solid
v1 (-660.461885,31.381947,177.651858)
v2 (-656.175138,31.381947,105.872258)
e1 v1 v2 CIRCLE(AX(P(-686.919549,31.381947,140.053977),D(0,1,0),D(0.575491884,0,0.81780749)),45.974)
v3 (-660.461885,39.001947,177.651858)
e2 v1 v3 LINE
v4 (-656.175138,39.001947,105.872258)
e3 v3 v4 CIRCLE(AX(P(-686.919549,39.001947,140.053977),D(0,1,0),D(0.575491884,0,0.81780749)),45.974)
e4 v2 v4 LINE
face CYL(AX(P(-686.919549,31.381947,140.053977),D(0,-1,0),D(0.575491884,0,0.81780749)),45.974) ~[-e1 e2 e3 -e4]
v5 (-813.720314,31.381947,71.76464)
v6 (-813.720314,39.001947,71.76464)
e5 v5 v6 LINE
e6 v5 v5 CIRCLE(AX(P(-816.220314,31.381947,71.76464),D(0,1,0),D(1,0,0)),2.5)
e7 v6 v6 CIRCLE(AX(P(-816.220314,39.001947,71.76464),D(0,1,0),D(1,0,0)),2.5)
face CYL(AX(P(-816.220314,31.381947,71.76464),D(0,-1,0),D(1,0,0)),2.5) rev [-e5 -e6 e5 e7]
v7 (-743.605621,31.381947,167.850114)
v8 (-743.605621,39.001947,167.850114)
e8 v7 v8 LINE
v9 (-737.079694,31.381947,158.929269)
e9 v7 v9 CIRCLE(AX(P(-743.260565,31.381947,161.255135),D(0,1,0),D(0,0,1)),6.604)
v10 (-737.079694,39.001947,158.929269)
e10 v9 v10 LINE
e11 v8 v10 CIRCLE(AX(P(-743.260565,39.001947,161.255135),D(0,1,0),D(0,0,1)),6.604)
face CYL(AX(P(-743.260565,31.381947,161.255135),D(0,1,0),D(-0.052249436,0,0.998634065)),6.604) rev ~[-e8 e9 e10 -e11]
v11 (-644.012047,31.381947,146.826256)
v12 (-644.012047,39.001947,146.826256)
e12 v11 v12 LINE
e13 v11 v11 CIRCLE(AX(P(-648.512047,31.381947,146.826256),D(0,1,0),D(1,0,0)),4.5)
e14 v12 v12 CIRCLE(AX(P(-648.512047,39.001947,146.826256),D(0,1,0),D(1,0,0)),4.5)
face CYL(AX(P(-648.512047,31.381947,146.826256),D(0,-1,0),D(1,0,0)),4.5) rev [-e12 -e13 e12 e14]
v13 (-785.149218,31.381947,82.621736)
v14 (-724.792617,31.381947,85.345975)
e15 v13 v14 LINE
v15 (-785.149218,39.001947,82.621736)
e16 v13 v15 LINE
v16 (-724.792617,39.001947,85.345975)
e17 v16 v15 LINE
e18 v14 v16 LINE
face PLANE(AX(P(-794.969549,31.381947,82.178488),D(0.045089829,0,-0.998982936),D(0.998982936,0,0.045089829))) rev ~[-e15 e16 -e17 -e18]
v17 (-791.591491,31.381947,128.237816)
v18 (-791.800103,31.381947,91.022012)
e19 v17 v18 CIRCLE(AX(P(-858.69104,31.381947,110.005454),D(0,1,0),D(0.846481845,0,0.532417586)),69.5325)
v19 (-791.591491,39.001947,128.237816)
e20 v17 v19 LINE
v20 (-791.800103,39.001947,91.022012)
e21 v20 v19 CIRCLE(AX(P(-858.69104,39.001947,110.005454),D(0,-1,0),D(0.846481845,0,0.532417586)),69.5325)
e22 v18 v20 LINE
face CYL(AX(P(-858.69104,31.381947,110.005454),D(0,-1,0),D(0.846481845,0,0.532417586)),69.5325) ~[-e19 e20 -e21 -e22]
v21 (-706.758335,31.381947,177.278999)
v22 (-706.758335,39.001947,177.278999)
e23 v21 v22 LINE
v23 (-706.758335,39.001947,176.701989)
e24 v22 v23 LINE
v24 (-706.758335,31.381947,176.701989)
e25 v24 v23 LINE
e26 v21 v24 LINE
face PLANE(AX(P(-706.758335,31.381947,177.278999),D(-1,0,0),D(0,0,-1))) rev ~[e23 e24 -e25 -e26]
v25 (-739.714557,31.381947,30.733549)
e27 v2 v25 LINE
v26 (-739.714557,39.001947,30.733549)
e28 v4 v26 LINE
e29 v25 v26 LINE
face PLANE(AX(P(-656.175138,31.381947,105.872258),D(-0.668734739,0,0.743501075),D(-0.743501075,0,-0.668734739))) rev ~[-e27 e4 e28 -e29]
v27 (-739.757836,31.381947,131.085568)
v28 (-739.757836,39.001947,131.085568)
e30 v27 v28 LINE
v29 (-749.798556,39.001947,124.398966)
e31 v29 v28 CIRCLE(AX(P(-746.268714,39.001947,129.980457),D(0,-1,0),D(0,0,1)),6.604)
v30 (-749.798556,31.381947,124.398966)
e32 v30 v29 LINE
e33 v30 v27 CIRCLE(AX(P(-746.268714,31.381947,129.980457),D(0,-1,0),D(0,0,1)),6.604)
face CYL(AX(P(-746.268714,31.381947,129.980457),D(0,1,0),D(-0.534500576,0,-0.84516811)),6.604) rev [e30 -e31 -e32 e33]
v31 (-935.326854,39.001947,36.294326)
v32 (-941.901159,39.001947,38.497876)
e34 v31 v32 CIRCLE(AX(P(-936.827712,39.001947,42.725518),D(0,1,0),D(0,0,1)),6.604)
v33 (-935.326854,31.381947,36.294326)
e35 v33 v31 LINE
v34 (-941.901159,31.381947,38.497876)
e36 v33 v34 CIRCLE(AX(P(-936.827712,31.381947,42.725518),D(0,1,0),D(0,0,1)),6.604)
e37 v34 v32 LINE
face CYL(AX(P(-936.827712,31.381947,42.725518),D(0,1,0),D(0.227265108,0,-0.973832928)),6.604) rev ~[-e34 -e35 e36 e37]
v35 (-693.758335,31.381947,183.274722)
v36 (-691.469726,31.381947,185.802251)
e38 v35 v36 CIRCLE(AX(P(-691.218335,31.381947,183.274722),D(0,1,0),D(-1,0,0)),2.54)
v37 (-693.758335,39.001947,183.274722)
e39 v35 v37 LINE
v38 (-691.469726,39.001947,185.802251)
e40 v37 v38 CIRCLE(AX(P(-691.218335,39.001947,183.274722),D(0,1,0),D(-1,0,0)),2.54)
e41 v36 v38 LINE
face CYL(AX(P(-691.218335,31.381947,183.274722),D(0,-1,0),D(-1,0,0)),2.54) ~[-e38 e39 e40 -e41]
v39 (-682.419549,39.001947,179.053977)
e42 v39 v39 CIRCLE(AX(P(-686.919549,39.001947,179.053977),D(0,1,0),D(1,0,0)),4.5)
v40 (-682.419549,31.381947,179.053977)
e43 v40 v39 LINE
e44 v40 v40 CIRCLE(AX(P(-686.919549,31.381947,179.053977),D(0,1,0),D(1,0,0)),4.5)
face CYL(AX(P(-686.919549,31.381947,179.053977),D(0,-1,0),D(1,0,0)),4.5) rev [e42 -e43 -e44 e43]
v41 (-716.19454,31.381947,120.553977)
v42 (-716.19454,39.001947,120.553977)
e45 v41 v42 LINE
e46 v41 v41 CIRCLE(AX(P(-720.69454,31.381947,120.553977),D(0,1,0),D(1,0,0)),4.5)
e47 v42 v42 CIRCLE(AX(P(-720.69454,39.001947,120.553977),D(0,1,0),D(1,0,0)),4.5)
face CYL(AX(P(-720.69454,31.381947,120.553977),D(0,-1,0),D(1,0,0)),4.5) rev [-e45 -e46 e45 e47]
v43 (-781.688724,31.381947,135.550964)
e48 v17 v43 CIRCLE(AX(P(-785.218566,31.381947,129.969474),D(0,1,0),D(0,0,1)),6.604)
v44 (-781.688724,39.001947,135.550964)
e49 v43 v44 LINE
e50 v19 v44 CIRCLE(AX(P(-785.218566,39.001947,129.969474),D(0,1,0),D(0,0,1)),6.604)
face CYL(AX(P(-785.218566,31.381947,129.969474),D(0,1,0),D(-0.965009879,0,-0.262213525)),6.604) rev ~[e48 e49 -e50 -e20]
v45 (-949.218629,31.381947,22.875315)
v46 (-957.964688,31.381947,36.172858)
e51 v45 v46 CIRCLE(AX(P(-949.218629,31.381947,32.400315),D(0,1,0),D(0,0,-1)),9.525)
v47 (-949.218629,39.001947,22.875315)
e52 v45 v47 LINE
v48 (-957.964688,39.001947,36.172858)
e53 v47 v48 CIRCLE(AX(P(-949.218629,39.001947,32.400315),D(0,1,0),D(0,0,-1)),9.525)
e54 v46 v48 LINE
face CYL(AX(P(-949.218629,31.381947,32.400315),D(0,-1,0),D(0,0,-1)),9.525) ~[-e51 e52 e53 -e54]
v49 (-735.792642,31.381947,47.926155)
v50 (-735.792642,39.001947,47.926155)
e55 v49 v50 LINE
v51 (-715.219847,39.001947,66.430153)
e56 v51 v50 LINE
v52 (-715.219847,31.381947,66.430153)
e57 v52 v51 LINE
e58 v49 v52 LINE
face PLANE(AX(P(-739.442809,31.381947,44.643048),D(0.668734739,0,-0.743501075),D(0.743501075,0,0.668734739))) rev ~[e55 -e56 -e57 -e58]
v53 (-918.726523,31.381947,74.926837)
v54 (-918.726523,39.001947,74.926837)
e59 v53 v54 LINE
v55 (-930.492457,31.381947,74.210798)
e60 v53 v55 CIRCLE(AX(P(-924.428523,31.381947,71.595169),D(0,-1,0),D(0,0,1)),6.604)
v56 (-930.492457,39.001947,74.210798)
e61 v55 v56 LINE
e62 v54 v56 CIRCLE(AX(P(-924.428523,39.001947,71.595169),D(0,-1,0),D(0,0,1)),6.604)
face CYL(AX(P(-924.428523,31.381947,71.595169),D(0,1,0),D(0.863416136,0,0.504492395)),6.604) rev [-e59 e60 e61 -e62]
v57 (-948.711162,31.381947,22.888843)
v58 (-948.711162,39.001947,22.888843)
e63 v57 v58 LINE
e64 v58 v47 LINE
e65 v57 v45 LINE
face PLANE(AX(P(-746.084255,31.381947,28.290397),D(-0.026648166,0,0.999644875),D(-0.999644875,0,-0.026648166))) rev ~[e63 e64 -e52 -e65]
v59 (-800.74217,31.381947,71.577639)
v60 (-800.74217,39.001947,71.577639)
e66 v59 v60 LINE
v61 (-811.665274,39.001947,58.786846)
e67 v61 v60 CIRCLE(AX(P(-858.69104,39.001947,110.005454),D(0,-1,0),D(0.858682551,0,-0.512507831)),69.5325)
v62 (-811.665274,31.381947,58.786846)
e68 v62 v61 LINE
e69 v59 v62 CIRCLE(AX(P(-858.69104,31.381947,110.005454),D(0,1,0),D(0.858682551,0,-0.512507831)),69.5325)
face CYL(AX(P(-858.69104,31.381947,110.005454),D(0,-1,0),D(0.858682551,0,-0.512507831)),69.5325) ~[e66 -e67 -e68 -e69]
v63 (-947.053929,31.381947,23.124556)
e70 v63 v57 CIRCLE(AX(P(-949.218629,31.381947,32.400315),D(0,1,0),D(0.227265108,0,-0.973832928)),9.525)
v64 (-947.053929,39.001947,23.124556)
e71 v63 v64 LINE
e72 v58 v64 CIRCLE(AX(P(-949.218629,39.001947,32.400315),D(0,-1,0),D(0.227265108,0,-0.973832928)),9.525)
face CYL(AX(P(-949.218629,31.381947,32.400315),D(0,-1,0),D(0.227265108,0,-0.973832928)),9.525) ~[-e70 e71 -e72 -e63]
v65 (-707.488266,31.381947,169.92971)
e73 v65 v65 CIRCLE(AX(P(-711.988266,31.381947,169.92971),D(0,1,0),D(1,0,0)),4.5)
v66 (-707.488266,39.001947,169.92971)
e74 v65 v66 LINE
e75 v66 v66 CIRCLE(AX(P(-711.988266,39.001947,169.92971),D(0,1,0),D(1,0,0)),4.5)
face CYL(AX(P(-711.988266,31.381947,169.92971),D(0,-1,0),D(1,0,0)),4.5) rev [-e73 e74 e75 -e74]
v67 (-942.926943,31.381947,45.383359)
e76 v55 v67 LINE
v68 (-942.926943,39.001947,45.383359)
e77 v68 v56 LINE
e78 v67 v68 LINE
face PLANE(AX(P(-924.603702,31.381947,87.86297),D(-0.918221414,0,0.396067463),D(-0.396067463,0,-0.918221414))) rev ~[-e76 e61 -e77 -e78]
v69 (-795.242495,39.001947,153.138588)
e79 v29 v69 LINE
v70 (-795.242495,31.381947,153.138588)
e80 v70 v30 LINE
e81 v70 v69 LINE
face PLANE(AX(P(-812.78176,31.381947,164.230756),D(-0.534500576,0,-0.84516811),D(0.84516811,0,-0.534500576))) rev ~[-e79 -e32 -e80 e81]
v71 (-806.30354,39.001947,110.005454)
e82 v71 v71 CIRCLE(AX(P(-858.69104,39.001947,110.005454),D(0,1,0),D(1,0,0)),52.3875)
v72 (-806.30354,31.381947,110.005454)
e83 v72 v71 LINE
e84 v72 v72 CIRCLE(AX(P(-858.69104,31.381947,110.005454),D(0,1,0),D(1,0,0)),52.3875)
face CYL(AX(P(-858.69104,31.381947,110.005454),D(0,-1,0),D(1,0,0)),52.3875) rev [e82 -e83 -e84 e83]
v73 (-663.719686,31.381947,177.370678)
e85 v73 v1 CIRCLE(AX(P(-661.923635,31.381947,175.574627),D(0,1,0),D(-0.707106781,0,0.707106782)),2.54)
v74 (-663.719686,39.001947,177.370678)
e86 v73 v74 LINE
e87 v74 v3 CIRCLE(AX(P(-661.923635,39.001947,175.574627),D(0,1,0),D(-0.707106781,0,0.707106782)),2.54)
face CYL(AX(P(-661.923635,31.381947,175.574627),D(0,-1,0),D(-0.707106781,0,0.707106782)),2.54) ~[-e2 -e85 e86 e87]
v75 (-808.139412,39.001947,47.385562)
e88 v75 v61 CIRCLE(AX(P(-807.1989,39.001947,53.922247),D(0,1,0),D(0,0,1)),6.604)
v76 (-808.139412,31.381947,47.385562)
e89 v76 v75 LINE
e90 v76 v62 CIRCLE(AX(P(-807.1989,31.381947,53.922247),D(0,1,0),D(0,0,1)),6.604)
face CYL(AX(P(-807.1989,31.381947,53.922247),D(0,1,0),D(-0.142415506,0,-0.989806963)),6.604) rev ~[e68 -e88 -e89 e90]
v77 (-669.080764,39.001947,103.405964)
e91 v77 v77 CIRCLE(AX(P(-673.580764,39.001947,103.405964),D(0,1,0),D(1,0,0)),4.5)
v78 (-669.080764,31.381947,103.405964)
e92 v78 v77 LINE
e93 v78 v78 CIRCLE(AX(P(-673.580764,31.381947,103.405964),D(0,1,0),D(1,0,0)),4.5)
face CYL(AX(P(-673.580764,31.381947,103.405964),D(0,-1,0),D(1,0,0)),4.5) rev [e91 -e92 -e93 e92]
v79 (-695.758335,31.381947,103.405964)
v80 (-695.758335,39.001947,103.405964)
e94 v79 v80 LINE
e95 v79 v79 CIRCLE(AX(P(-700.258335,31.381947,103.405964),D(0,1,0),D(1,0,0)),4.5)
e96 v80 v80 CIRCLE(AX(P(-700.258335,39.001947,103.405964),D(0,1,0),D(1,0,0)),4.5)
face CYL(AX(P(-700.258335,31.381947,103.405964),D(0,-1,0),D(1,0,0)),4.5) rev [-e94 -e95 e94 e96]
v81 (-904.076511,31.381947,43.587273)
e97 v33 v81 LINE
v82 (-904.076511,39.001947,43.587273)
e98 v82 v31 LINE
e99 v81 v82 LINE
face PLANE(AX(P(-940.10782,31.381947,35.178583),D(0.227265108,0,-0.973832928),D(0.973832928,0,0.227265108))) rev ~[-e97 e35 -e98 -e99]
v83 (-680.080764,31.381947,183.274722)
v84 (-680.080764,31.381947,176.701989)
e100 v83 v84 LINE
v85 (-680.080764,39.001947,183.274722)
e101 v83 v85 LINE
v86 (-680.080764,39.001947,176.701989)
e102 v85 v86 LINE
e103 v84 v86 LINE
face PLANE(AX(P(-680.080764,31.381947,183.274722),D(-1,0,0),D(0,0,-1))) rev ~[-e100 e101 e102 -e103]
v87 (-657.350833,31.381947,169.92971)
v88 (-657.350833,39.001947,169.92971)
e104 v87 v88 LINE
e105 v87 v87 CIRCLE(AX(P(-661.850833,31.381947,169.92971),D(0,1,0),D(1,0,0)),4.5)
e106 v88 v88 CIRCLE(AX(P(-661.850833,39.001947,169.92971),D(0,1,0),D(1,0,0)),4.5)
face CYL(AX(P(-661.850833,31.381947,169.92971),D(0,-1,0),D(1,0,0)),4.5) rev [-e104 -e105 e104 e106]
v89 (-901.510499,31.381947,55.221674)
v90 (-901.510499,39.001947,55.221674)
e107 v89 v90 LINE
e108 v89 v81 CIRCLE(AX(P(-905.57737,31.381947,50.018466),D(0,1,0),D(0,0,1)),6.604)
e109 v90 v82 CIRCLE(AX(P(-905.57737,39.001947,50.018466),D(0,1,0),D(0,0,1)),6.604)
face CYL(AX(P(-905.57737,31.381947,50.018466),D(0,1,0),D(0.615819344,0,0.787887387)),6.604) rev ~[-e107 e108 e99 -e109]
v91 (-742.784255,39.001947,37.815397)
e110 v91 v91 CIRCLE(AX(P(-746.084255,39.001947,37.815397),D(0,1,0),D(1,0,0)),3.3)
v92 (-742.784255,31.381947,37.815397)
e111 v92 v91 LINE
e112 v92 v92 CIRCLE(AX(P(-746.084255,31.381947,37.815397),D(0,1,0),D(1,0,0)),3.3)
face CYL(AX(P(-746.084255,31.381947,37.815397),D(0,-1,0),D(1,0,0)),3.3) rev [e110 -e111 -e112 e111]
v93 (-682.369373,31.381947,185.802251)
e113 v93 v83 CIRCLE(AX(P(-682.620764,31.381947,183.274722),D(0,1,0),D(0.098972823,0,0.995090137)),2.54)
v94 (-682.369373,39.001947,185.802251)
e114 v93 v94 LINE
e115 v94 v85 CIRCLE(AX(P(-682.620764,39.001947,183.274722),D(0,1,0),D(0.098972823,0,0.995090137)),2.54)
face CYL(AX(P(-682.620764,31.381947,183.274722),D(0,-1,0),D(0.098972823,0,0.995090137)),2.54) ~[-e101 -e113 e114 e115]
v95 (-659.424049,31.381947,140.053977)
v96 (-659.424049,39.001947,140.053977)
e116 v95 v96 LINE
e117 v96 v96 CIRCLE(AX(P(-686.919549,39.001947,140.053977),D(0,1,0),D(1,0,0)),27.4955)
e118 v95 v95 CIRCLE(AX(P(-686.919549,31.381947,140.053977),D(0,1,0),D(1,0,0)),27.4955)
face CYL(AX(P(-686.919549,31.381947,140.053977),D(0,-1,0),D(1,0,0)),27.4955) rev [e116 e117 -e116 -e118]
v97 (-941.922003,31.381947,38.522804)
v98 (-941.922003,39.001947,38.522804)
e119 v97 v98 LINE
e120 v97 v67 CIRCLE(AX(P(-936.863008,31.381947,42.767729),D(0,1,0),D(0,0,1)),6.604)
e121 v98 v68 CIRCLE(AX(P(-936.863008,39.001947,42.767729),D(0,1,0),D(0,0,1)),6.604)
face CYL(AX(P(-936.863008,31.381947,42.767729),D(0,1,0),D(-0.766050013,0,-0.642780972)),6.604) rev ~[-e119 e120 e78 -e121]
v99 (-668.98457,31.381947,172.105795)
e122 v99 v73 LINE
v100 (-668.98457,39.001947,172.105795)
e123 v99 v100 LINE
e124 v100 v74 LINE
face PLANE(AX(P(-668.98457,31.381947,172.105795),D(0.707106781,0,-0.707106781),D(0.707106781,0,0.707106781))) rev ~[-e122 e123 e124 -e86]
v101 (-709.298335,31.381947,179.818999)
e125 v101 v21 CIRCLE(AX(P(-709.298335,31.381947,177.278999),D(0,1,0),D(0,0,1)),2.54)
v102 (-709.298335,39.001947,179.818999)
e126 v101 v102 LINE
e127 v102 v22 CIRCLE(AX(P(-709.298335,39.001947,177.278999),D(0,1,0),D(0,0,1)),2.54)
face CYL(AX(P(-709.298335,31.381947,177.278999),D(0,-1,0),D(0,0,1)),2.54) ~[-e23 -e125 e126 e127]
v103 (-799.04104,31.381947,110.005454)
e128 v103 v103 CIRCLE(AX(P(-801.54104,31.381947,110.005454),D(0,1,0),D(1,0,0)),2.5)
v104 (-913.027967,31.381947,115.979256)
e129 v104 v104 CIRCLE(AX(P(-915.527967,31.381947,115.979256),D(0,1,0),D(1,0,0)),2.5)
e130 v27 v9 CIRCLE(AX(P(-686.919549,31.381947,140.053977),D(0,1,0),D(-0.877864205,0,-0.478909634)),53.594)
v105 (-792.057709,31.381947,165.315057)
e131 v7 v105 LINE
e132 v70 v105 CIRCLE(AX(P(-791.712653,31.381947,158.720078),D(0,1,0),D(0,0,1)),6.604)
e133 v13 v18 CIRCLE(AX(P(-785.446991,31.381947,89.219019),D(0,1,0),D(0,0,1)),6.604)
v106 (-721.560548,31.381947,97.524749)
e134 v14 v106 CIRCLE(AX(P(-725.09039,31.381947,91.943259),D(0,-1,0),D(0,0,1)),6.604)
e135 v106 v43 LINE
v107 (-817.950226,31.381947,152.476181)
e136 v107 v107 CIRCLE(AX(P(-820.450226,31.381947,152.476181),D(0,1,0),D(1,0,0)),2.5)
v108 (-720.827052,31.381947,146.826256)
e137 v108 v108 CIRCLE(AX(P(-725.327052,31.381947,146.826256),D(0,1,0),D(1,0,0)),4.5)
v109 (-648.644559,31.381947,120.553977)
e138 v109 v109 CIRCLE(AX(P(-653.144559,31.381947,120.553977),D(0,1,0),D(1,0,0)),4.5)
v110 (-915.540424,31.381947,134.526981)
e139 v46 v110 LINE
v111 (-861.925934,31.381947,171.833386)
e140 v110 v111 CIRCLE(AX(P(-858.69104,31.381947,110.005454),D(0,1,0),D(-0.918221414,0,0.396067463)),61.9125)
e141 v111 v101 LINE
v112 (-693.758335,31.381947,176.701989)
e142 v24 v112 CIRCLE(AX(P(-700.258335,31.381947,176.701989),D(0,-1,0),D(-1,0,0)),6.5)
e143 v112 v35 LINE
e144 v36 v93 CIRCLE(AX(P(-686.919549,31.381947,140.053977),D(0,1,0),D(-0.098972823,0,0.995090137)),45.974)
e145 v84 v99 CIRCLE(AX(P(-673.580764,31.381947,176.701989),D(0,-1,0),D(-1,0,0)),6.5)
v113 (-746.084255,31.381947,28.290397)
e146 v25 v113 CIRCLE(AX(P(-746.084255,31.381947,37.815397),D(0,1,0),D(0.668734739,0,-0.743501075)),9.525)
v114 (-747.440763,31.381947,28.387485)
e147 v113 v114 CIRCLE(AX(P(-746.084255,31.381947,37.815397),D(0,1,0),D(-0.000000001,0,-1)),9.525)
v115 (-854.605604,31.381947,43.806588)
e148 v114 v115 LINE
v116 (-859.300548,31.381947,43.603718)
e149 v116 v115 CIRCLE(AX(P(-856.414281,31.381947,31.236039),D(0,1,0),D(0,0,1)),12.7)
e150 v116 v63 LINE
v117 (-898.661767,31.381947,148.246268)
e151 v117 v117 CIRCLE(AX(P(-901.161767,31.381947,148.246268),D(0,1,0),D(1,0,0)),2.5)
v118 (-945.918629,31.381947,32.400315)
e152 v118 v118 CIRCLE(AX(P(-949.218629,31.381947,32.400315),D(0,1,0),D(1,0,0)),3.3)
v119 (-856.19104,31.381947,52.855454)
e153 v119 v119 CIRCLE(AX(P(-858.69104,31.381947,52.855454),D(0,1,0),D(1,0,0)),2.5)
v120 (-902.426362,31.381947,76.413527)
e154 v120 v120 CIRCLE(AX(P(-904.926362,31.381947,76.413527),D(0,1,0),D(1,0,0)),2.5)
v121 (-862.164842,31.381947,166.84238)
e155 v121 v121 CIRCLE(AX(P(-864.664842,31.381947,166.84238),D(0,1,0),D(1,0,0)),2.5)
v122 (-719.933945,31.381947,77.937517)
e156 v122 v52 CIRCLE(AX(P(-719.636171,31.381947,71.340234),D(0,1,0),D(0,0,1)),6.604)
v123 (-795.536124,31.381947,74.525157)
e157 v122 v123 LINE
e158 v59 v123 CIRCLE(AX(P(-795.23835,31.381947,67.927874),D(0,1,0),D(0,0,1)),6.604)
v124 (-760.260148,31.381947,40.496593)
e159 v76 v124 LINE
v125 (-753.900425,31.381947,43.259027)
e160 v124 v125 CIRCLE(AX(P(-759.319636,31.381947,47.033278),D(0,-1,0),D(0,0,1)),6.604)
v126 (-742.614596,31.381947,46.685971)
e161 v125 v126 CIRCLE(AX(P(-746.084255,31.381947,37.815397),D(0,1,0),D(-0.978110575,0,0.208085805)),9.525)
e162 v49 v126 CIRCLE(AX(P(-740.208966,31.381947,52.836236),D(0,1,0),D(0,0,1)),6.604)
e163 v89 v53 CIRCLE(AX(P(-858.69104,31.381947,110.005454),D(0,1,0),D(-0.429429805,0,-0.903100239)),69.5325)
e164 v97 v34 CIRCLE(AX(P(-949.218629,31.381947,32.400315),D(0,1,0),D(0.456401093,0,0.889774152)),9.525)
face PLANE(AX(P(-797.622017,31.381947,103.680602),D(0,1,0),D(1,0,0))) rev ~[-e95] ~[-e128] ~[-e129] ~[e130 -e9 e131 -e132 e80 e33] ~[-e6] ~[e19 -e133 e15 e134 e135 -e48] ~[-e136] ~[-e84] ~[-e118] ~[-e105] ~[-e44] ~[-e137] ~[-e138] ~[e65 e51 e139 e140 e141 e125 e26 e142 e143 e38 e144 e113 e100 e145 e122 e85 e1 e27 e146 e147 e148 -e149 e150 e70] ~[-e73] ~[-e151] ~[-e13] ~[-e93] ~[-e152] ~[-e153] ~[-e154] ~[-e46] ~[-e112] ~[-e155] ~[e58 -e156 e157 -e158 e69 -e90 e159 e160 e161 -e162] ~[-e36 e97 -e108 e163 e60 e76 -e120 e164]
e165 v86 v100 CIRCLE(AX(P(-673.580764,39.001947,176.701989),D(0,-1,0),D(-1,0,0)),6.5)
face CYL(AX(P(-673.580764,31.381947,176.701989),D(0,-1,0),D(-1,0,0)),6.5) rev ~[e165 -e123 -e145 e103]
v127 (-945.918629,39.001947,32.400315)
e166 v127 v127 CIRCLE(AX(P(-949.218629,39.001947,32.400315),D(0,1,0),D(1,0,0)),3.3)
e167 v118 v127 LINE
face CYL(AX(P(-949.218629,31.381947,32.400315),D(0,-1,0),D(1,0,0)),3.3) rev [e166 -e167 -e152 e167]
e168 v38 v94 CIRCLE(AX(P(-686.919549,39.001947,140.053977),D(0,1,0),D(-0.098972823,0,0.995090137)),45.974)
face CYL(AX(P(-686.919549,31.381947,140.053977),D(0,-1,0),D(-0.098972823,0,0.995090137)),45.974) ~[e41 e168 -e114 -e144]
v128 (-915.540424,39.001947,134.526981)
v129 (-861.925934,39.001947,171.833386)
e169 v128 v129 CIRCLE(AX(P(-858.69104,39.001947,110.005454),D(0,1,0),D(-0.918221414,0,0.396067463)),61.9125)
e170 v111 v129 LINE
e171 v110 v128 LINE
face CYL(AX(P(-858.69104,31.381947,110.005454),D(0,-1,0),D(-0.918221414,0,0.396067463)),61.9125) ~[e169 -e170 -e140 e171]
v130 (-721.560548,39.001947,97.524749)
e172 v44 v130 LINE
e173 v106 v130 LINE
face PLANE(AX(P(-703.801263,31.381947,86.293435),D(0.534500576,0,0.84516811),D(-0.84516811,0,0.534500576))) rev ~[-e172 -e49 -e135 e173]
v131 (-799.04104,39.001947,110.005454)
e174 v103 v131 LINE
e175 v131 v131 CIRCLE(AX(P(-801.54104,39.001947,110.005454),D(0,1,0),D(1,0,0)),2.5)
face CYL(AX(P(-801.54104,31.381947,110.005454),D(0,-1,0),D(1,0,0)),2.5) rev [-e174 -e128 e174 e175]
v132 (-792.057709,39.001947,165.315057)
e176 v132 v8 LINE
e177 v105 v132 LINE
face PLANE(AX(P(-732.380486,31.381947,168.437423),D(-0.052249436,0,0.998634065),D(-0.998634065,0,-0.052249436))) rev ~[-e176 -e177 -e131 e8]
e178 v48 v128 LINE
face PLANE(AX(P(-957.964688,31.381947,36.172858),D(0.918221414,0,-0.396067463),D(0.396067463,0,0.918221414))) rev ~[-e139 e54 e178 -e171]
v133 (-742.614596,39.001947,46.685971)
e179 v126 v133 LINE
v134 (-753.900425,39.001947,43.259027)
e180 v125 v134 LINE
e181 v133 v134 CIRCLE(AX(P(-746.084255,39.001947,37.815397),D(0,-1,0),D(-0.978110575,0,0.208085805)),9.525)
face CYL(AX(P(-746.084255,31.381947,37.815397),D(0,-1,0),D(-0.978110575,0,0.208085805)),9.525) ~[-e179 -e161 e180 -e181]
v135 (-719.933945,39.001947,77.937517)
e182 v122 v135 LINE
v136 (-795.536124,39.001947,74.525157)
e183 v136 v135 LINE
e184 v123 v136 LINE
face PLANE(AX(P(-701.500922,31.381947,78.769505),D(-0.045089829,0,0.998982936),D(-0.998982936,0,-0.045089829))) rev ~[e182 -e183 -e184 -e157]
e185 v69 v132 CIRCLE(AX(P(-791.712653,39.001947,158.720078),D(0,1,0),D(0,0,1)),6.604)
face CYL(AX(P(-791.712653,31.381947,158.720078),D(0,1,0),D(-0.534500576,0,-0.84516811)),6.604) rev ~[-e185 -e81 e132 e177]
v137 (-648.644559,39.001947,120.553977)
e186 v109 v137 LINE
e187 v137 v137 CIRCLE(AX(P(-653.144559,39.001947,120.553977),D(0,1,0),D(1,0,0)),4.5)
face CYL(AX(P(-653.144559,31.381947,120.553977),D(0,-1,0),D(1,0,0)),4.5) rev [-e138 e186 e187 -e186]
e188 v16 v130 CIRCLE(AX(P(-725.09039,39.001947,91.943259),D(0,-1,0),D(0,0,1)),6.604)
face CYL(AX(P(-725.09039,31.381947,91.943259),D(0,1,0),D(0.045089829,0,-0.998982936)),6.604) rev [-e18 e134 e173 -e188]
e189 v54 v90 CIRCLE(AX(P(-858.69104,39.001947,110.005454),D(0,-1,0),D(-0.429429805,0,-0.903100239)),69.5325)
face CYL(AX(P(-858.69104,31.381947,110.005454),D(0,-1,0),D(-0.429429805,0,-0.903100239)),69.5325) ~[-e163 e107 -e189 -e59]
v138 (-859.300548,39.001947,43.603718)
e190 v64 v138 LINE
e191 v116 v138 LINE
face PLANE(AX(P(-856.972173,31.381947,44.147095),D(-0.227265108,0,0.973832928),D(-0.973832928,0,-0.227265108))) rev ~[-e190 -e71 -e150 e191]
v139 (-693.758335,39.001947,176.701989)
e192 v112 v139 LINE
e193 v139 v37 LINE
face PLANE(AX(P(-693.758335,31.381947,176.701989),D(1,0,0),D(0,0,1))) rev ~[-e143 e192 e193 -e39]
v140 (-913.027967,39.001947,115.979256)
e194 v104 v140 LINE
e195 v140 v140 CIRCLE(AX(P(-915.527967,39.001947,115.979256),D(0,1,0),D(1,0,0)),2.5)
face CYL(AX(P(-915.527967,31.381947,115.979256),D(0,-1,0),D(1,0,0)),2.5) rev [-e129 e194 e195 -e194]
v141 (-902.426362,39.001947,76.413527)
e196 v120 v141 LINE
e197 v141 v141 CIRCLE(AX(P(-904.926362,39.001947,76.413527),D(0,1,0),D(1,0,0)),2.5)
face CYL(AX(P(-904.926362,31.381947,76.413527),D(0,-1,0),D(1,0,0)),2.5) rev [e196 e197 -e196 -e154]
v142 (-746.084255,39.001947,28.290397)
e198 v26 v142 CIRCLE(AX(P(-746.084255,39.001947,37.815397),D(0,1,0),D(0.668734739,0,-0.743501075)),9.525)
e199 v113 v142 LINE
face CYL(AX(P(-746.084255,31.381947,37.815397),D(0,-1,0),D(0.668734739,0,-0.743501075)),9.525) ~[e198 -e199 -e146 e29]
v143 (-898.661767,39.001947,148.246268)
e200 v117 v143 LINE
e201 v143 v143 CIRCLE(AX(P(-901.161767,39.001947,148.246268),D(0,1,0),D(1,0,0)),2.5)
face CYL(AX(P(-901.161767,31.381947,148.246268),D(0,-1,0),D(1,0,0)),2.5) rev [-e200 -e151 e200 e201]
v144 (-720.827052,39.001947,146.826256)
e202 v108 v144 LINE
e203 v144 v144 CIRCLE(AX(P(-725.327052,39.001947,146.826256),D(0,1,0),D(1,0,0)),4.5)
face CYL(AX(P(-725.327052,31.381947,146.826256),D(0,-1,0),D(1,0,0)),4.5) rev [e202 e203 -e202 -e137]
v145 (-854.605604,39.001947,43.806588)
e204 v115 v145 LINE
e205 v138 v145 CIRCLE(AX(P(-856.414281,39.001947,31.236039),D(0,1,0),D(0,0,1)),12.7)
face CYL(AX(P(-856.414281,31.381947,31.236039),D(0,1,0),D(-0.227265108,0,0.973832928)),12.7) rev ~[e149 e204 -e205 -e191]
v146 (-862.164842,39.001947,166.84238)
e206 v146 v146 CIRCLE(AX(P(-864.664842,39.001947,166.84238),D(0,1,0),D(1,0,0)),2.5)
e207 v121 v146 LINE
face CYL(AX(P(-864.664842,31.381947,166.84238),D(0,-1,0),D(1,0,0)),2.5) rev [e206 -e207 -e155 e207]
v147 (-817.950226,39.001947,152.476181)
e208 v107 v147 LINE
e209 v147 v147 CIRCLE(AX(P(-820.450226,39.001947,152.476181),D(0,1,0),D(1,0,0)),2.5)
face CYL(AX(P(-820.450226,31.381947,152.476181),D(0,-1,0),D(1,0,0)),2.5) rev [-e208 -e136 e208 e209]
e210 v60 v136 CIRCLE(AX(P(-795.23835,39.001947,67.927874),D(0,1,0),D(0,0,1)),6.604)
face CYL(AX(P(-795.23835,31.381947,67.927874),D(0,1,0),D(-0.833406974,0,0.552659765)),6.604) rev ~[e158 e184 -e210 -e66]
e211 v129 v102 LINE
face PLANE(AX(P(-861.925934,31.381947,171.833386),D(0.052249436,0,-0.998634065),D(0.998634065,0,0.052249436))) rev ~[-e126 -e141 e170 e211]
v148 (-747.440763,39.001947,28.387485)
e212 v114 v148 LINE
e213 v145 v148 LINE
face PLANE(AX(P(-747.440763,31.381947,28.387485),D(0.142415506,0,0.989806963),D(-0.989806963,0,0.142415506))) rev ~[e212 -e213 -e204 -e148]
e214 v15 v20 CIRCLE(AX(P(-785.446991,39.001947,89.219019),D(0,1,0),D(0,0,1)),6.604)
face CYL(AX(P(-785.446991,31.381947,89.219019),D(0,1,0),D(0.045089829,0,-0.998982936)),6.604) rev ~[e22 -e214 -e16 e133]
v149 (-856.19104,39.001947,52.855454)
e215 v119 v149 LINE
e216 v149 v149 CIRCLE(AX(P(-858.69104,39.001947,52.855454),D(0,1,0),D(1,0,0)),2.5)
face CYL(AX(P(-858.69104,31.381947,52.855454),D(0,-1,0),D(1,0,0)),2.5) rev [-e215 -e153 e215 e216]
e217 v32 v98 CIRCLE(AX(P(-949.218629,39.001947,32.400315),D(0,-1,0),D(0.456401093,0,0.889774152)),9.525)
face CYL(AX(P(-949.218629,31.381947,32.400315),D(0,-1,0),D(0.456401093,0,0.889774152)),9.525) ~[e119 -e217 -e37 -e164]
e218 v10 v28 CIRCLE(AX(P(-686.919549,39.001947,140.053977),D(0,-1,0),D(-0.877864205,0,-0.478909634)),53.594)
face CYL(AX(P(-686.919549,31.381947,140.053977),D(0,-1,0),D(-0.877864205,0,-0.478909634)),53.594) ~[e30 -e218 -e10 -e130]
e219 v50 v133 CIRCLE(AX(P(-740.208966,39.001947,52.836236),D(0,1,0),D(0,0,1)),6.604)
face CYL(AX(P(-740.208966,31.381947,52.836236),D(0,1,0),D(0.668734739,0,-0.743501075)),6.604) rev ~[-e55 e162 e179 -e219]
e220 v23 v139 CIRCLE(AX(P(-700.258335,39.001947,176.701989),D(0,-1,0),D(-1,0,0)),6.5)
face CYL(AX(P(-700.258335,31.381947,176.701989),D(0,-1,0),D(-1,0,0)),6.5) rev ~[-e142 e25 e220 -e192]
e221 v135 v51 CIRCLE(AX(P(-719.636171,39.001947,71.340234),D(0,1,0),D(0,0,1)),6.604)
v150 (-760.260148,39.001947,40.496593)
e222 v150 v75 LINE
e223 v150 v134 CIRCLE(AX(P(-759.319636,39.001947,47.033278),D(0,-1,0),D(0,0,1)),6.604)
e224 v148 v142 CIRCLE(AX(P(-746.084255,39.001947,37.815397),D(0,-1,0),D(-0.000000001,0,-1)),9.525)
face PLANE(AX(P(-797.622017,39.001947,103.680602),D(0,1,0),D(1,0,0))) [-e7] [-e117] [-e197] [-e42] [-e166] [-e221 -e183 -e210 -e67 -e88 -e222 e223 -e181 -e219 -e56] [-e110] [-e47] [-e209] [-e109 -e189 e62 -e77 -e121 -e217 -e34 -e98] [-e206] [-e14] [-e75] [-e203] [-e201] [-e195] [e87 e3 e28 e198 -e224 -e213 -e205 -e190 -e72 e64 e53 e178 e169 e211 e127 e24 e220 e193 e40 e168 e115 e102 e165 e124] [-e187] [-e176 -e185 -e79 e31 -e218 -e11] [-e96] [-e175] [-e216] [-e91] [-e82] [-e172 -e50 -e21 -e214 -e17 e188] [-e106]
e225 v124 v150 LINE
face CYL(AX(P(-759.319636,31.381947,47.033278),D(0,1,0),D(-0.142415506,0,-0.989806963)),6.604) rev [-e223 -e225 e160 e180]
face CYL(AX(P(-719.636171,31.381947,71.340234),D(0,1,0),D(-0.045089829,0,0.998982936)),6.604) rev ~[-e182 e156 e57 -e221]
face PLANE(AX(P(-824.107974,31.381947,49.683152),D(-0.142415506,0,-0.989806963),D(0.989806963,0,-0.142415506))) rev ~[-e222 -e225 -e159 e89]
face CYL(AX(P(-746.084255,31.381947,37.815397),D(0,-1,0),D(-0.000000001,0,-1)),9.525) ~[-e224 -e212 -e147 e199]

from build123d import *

# Parameters (mm, degrees)
SKETCH2_R           = 4.5
SKETCH2_R_2         = 27.4955
SKETCH2_R_3         = 2.5
SKETCH2_R_4         = 52.3875
SKETCH2_R_5         = 3.3
BOSS_EXTRUDE1_DEPTH = 7.62
CUT_EXTRUDE1_DEPTH  = 977.654400972
FILLET2_R           = 12.7
CUT_EXTRUDE2_DEPTH  = 977.654400972
FILLET3_R           = 6.604


with BuildPart() as part:
    # Sketch2 → Boss-Extrude1 (new body)
    with BuildSketch(Plane(origin=(0, 31.381947118, 0), x_dir=(1, 0, 0), z_dir=(0, 1, 0))):
        with BuildLine():
            ThreePointArc((-706.758334948, -176.701988839), (-700.258334948, -170.201988839), (-693.758334948, -176.701988839))
            Line((-693.758334948, -176.701988839), (-693.758334948, -183.274721629))
            ThreePointArc((-693.758334948, -183.274721629), (-693.101169654, -184.979577479), (-691.469725918, -185.802250576))
            ThreePointArc((-691.469725918, -185.802250576), (-686.919549358, -186.027976628), (-682.369372798, -185.802250576))
            ThreePointArc((-682.369372798, -185.802250576), (-680.737929062, -184.979577479), (-680.080763768, -183.274721629))
            Line((-680.080763768, -183.274721629), (-680.080763768, -176.701988839))
            ThreePointArc((-680.080763768, -176.701988839), (-676.068206079, -170.696771877), (-668.984569691, -172.105794761))
            Line((-668.984569691, -172.105794761), (-663.719686073, -177.370678379))
            ThreePointArc((-663.719686073, -177.370678379), (-662.142049476, -178.105218992), (-660.461885462, -177.651858179))
            ThreePointArc((-660.461885462, -177.651858179), (-641.02731599, -142.794705094), (-656.175138478, -105.872258186))
            Line((-656.175138478, -105.872258186), (-739.714556945, -30.733548866))
            ThreePointArc((-739.714556945, -30.733548866), (-742.67316861, -28.92213442), (-746.084255332, -28.29039661))
            Line((-746.084255332, -28.29039661), (-949.218629158, -22.875315026))
            ThreePointArc((-949.218629158, -22.875315026), (-957.176615495, -27.166188695), (-957.964688125, -36.172857609))
            Line((-957.964688125, -36.172857609), (-915.540423748, -134.526980787))
            ThreePointArc((-915.540423748, -134.526980787), (-894.053054389, -160.825584136), (-861.92593364, -171.83338557))
            Line((-861.92593364, -171.83338557), (-709.298334948, -179.818999281))
            ThreePointArc((-709.298334948, -179.818999281), (-707.502283723, -179.075050505), (-706.758334948, -177.278999281))
            Line((-706.758334948, -177.278999281), (-706.758334948, -176.701988839))
        make_face()
        with Locations((-686.919549358, -179.053976628)):
            Circle(SKETCH2_R, mode=Mode.SUBTRACT)
        with Locations((-711.988266136, -169.92970991)):
            Circle(SKETCH2_R, mode=Mode.SUBTRACT)
        with Locations((-661.85083258, -169.92970991)):
            Circle(SKETCH2_R, mode=Mode.SUBTRACT)
        with Locations((-725.327051725, -146.826255557)):
            Circle(SKETCH2_R, mode=Mode.SUBTRACT)
        with Locations((-686.919549358, -140.053976628)):
            Circle(SKETCH2_R_2, mode=Mode.SUBTRACT)
        with Locations((-648.51204699, -146.826255557)):
            Circle(SKETCH2_R, mode=Mode.SUBTRACT)
        with Locations((-720.694540106, -120.553976628)):
            Circle(SKETCH2_R, mode=Mode.SUBTRACT)
        with Locations((-653.14455861, -120.553976628)):
            Circle(SKETCH2_R, mode=Mode.SUBTRACT)
        with Locations((-700.258334948, -103.405964417)):
            Circle(SKETCH2_R, mode=Mode.SUBTRACT)
        with Locations((-673.580763768, -103.405964417)):
            Circle(SKETCH2_R, mode=Mode.SUBTRACT)
        with Locations((-816.220313684, -71.764639846)):
            Circle(SKETCH2_R_3, mode=Mode.SUBTRACT)
        with Locations((-858.69104046, -52.855453999)):
            Circle(SKETCH2_R_3, mode=Mode.SUBTRACT)
        with Locations((-901.161767236, -148.246268152)):
            Circle(SKETCH2_R_3, mode=Mode.SUBTRACT)
        with Locations((-864.664842136, -166.842380319)):
            Circle(SKETCH2_R_3, mode=Mode.SUBTRACT)
        with Locations((-820.450226307, -152.476180775)):
            Circle(SKETCH2_R_3, mode=Mode.SUBTRACT)
        with Locations((-915.52796678, -115.979255675)):
            Circle(SKETCH2_R_3, mode=Mode.SUBTRACT)
        with Locations((-858.69104046, -110.005453999)):
            Circle(SKETCH2_R_4, mode=Mode.SUBTRACT)
        with Locations((-801.54104046, -110.005453999)):
            Circle(SKETCH2_R_3, mode=Mode.SUBTRACT)
        with Locations((-904.926361688, -76.41352683)):
            Circle(SKETCH2_R_3, mode=Mode.SUBTRACT)
        with Locations((-949.218629158, -32.400315026)):
            Circle(SKETCH2_R_5, mode=Mode.SUBTRACT)
        with Locations((-746.084255332, -37.81539661)):
            Circle(SKETCH2_R_5, mode=Mode.SUBTRACT)
    extrude(amount=BOSS_EXTRUDE1_DEPTH)

    # Sketch3 → Cut-Extrude1 (cut, through all)
    with BuildSketch(Plane.XZ.offset(-31.381947118)):
        with BuildLine():
            ThreePointArc((-746.084255332, 28.29039661), (-746.764244179, 28.314699785), (-747.440763024, 28.387485289))
            Line((-747.440763024, 28.387485289), (-856.972172798, 44.147094697))
            Line((-856.972172798, 44.147094697), (-947.053929007, 23.124556391))
            ThreePointArc((-947.053929007, 23.124556391), (-947.877357404, 22.970224089), (-948.71116187, 22.888842903))
            Line((-948.71116187, 22.888842903), (-746.084255332, 28.29039661))
        make_face()
    extrude(amount=-CUT_EXTRUDE1_DEPTH, mode=Mode.SUBTRACT)

    # Fillet2
    fillet2_edges = [part.edges().sort_by_distance(p)[0] for p in [
        (-856.972172798, 35.191947118, 44.147094697),
    ]]
    fillet(fillet2_edges, radius=FILLET2_R)

    # Sketch4 → Cut-Extrude2 (cut, through all)
    with BuildSketch(Plane.XZ.offset(-31.381947118)):
        with BuildLine():
            ThreePointArc((-755.400758562, 39.797413906), (-748.851749471, 46.929484671), (-739.442809112, 44.643047532))
            Line((-739.442809112, 44.643047532), (-701.500922116, 78.769505081))
            Line((-701.500922116, 78.769505081), (-798.984695976, 74.369503266))
            ThreePointArc((-798.984695976, 74.369503266), (-809.957302285, 60.409170673), (-824.107973934, 49.683152435))
            Line((-824.107973934, 49.683152435), (-755.400758562, 39.797413906))
        make_face()
        with BuildLine():
            Line((-924.603702119, 87.862970189), (-944.871408741, 40.875413825))
            ThreePointArc((-944.871408741, 40.875413825), (-941.911570095, 38.510348812), (-940.107819617, 35.178583284))
            Line((-940.107819617, 35.178583284), (-888.550368384, 47.2106366))
            ThreePointArc((-888.550368384, 47.2106366), (-910.712397168, 63.869275109), (-924.603702119, 87.862970189))
        make_face()
        with BuildLine():
            ThreePointArc((-733.967803565, 114.387293709), (-740.490453219, 141.627220261), (-732.380486266, 168.437423414))
            Line((-732.380486266, 168.437423414), (-812.781759902, 164.230756215))
            Line((-812.781759902, 164.230756215), (-733.967803565, 114.387293709))
        make_face()
        with BuildLine():
            Line((-703.801263295, 86.293435405), (-799.833041569, 147.025779805))
            ThreePointArc((-799.833041569, 147.025779805), (-789.353275134, 115.205728597), (-794.969548727, 82.178487805))
            Line((-794.969548727, 82.178487805), (-703.801263295, 86.293435405))
        make_face()
    extrude(amount=-CUT_EXTRUDE2_DEPTH, mode=Mode.SUBTRACT)

    # Fillet3
    fillet3_edges = [part.edges().sort_by_distance(p)[0] for p in [
        (-733.967803565, 35.191947118, 114.387293709),
        (-732.380486266, 35.191947118, 168.437423414),
        (-812.781759902, 35.191947118, 164.230756215),
        (-703.801263295, 35.191947118, 86.293435405),
        (-794.969548727, 35.191947118, 82.178487805),
        (-799.833041569, 35.191947118, 147.025779805),
        (-701.500922116, 35.191947118, 78.769505081),
        (-798.984695976, 35.191947118, 74.369503266),
        (-824.107973934, 35.191947118, 49.683152435),
        (-888.550368384, 35.191947118, 47.2106366),
        (-924.603702119, 35.191947118, 87.862970189),
        (-739.442809112, 35.191947118, 44.643047532),
        (-755.400758562, 35.191947118, 39.797413906),
        (-940.107819617, 35.191947118, 35.178583284),
        (-944.871408741, 35.191947118, 40.875413825),
    ]]
    fillet(fillet3_edges, radius=FILLET3_R)


solid = part.part
